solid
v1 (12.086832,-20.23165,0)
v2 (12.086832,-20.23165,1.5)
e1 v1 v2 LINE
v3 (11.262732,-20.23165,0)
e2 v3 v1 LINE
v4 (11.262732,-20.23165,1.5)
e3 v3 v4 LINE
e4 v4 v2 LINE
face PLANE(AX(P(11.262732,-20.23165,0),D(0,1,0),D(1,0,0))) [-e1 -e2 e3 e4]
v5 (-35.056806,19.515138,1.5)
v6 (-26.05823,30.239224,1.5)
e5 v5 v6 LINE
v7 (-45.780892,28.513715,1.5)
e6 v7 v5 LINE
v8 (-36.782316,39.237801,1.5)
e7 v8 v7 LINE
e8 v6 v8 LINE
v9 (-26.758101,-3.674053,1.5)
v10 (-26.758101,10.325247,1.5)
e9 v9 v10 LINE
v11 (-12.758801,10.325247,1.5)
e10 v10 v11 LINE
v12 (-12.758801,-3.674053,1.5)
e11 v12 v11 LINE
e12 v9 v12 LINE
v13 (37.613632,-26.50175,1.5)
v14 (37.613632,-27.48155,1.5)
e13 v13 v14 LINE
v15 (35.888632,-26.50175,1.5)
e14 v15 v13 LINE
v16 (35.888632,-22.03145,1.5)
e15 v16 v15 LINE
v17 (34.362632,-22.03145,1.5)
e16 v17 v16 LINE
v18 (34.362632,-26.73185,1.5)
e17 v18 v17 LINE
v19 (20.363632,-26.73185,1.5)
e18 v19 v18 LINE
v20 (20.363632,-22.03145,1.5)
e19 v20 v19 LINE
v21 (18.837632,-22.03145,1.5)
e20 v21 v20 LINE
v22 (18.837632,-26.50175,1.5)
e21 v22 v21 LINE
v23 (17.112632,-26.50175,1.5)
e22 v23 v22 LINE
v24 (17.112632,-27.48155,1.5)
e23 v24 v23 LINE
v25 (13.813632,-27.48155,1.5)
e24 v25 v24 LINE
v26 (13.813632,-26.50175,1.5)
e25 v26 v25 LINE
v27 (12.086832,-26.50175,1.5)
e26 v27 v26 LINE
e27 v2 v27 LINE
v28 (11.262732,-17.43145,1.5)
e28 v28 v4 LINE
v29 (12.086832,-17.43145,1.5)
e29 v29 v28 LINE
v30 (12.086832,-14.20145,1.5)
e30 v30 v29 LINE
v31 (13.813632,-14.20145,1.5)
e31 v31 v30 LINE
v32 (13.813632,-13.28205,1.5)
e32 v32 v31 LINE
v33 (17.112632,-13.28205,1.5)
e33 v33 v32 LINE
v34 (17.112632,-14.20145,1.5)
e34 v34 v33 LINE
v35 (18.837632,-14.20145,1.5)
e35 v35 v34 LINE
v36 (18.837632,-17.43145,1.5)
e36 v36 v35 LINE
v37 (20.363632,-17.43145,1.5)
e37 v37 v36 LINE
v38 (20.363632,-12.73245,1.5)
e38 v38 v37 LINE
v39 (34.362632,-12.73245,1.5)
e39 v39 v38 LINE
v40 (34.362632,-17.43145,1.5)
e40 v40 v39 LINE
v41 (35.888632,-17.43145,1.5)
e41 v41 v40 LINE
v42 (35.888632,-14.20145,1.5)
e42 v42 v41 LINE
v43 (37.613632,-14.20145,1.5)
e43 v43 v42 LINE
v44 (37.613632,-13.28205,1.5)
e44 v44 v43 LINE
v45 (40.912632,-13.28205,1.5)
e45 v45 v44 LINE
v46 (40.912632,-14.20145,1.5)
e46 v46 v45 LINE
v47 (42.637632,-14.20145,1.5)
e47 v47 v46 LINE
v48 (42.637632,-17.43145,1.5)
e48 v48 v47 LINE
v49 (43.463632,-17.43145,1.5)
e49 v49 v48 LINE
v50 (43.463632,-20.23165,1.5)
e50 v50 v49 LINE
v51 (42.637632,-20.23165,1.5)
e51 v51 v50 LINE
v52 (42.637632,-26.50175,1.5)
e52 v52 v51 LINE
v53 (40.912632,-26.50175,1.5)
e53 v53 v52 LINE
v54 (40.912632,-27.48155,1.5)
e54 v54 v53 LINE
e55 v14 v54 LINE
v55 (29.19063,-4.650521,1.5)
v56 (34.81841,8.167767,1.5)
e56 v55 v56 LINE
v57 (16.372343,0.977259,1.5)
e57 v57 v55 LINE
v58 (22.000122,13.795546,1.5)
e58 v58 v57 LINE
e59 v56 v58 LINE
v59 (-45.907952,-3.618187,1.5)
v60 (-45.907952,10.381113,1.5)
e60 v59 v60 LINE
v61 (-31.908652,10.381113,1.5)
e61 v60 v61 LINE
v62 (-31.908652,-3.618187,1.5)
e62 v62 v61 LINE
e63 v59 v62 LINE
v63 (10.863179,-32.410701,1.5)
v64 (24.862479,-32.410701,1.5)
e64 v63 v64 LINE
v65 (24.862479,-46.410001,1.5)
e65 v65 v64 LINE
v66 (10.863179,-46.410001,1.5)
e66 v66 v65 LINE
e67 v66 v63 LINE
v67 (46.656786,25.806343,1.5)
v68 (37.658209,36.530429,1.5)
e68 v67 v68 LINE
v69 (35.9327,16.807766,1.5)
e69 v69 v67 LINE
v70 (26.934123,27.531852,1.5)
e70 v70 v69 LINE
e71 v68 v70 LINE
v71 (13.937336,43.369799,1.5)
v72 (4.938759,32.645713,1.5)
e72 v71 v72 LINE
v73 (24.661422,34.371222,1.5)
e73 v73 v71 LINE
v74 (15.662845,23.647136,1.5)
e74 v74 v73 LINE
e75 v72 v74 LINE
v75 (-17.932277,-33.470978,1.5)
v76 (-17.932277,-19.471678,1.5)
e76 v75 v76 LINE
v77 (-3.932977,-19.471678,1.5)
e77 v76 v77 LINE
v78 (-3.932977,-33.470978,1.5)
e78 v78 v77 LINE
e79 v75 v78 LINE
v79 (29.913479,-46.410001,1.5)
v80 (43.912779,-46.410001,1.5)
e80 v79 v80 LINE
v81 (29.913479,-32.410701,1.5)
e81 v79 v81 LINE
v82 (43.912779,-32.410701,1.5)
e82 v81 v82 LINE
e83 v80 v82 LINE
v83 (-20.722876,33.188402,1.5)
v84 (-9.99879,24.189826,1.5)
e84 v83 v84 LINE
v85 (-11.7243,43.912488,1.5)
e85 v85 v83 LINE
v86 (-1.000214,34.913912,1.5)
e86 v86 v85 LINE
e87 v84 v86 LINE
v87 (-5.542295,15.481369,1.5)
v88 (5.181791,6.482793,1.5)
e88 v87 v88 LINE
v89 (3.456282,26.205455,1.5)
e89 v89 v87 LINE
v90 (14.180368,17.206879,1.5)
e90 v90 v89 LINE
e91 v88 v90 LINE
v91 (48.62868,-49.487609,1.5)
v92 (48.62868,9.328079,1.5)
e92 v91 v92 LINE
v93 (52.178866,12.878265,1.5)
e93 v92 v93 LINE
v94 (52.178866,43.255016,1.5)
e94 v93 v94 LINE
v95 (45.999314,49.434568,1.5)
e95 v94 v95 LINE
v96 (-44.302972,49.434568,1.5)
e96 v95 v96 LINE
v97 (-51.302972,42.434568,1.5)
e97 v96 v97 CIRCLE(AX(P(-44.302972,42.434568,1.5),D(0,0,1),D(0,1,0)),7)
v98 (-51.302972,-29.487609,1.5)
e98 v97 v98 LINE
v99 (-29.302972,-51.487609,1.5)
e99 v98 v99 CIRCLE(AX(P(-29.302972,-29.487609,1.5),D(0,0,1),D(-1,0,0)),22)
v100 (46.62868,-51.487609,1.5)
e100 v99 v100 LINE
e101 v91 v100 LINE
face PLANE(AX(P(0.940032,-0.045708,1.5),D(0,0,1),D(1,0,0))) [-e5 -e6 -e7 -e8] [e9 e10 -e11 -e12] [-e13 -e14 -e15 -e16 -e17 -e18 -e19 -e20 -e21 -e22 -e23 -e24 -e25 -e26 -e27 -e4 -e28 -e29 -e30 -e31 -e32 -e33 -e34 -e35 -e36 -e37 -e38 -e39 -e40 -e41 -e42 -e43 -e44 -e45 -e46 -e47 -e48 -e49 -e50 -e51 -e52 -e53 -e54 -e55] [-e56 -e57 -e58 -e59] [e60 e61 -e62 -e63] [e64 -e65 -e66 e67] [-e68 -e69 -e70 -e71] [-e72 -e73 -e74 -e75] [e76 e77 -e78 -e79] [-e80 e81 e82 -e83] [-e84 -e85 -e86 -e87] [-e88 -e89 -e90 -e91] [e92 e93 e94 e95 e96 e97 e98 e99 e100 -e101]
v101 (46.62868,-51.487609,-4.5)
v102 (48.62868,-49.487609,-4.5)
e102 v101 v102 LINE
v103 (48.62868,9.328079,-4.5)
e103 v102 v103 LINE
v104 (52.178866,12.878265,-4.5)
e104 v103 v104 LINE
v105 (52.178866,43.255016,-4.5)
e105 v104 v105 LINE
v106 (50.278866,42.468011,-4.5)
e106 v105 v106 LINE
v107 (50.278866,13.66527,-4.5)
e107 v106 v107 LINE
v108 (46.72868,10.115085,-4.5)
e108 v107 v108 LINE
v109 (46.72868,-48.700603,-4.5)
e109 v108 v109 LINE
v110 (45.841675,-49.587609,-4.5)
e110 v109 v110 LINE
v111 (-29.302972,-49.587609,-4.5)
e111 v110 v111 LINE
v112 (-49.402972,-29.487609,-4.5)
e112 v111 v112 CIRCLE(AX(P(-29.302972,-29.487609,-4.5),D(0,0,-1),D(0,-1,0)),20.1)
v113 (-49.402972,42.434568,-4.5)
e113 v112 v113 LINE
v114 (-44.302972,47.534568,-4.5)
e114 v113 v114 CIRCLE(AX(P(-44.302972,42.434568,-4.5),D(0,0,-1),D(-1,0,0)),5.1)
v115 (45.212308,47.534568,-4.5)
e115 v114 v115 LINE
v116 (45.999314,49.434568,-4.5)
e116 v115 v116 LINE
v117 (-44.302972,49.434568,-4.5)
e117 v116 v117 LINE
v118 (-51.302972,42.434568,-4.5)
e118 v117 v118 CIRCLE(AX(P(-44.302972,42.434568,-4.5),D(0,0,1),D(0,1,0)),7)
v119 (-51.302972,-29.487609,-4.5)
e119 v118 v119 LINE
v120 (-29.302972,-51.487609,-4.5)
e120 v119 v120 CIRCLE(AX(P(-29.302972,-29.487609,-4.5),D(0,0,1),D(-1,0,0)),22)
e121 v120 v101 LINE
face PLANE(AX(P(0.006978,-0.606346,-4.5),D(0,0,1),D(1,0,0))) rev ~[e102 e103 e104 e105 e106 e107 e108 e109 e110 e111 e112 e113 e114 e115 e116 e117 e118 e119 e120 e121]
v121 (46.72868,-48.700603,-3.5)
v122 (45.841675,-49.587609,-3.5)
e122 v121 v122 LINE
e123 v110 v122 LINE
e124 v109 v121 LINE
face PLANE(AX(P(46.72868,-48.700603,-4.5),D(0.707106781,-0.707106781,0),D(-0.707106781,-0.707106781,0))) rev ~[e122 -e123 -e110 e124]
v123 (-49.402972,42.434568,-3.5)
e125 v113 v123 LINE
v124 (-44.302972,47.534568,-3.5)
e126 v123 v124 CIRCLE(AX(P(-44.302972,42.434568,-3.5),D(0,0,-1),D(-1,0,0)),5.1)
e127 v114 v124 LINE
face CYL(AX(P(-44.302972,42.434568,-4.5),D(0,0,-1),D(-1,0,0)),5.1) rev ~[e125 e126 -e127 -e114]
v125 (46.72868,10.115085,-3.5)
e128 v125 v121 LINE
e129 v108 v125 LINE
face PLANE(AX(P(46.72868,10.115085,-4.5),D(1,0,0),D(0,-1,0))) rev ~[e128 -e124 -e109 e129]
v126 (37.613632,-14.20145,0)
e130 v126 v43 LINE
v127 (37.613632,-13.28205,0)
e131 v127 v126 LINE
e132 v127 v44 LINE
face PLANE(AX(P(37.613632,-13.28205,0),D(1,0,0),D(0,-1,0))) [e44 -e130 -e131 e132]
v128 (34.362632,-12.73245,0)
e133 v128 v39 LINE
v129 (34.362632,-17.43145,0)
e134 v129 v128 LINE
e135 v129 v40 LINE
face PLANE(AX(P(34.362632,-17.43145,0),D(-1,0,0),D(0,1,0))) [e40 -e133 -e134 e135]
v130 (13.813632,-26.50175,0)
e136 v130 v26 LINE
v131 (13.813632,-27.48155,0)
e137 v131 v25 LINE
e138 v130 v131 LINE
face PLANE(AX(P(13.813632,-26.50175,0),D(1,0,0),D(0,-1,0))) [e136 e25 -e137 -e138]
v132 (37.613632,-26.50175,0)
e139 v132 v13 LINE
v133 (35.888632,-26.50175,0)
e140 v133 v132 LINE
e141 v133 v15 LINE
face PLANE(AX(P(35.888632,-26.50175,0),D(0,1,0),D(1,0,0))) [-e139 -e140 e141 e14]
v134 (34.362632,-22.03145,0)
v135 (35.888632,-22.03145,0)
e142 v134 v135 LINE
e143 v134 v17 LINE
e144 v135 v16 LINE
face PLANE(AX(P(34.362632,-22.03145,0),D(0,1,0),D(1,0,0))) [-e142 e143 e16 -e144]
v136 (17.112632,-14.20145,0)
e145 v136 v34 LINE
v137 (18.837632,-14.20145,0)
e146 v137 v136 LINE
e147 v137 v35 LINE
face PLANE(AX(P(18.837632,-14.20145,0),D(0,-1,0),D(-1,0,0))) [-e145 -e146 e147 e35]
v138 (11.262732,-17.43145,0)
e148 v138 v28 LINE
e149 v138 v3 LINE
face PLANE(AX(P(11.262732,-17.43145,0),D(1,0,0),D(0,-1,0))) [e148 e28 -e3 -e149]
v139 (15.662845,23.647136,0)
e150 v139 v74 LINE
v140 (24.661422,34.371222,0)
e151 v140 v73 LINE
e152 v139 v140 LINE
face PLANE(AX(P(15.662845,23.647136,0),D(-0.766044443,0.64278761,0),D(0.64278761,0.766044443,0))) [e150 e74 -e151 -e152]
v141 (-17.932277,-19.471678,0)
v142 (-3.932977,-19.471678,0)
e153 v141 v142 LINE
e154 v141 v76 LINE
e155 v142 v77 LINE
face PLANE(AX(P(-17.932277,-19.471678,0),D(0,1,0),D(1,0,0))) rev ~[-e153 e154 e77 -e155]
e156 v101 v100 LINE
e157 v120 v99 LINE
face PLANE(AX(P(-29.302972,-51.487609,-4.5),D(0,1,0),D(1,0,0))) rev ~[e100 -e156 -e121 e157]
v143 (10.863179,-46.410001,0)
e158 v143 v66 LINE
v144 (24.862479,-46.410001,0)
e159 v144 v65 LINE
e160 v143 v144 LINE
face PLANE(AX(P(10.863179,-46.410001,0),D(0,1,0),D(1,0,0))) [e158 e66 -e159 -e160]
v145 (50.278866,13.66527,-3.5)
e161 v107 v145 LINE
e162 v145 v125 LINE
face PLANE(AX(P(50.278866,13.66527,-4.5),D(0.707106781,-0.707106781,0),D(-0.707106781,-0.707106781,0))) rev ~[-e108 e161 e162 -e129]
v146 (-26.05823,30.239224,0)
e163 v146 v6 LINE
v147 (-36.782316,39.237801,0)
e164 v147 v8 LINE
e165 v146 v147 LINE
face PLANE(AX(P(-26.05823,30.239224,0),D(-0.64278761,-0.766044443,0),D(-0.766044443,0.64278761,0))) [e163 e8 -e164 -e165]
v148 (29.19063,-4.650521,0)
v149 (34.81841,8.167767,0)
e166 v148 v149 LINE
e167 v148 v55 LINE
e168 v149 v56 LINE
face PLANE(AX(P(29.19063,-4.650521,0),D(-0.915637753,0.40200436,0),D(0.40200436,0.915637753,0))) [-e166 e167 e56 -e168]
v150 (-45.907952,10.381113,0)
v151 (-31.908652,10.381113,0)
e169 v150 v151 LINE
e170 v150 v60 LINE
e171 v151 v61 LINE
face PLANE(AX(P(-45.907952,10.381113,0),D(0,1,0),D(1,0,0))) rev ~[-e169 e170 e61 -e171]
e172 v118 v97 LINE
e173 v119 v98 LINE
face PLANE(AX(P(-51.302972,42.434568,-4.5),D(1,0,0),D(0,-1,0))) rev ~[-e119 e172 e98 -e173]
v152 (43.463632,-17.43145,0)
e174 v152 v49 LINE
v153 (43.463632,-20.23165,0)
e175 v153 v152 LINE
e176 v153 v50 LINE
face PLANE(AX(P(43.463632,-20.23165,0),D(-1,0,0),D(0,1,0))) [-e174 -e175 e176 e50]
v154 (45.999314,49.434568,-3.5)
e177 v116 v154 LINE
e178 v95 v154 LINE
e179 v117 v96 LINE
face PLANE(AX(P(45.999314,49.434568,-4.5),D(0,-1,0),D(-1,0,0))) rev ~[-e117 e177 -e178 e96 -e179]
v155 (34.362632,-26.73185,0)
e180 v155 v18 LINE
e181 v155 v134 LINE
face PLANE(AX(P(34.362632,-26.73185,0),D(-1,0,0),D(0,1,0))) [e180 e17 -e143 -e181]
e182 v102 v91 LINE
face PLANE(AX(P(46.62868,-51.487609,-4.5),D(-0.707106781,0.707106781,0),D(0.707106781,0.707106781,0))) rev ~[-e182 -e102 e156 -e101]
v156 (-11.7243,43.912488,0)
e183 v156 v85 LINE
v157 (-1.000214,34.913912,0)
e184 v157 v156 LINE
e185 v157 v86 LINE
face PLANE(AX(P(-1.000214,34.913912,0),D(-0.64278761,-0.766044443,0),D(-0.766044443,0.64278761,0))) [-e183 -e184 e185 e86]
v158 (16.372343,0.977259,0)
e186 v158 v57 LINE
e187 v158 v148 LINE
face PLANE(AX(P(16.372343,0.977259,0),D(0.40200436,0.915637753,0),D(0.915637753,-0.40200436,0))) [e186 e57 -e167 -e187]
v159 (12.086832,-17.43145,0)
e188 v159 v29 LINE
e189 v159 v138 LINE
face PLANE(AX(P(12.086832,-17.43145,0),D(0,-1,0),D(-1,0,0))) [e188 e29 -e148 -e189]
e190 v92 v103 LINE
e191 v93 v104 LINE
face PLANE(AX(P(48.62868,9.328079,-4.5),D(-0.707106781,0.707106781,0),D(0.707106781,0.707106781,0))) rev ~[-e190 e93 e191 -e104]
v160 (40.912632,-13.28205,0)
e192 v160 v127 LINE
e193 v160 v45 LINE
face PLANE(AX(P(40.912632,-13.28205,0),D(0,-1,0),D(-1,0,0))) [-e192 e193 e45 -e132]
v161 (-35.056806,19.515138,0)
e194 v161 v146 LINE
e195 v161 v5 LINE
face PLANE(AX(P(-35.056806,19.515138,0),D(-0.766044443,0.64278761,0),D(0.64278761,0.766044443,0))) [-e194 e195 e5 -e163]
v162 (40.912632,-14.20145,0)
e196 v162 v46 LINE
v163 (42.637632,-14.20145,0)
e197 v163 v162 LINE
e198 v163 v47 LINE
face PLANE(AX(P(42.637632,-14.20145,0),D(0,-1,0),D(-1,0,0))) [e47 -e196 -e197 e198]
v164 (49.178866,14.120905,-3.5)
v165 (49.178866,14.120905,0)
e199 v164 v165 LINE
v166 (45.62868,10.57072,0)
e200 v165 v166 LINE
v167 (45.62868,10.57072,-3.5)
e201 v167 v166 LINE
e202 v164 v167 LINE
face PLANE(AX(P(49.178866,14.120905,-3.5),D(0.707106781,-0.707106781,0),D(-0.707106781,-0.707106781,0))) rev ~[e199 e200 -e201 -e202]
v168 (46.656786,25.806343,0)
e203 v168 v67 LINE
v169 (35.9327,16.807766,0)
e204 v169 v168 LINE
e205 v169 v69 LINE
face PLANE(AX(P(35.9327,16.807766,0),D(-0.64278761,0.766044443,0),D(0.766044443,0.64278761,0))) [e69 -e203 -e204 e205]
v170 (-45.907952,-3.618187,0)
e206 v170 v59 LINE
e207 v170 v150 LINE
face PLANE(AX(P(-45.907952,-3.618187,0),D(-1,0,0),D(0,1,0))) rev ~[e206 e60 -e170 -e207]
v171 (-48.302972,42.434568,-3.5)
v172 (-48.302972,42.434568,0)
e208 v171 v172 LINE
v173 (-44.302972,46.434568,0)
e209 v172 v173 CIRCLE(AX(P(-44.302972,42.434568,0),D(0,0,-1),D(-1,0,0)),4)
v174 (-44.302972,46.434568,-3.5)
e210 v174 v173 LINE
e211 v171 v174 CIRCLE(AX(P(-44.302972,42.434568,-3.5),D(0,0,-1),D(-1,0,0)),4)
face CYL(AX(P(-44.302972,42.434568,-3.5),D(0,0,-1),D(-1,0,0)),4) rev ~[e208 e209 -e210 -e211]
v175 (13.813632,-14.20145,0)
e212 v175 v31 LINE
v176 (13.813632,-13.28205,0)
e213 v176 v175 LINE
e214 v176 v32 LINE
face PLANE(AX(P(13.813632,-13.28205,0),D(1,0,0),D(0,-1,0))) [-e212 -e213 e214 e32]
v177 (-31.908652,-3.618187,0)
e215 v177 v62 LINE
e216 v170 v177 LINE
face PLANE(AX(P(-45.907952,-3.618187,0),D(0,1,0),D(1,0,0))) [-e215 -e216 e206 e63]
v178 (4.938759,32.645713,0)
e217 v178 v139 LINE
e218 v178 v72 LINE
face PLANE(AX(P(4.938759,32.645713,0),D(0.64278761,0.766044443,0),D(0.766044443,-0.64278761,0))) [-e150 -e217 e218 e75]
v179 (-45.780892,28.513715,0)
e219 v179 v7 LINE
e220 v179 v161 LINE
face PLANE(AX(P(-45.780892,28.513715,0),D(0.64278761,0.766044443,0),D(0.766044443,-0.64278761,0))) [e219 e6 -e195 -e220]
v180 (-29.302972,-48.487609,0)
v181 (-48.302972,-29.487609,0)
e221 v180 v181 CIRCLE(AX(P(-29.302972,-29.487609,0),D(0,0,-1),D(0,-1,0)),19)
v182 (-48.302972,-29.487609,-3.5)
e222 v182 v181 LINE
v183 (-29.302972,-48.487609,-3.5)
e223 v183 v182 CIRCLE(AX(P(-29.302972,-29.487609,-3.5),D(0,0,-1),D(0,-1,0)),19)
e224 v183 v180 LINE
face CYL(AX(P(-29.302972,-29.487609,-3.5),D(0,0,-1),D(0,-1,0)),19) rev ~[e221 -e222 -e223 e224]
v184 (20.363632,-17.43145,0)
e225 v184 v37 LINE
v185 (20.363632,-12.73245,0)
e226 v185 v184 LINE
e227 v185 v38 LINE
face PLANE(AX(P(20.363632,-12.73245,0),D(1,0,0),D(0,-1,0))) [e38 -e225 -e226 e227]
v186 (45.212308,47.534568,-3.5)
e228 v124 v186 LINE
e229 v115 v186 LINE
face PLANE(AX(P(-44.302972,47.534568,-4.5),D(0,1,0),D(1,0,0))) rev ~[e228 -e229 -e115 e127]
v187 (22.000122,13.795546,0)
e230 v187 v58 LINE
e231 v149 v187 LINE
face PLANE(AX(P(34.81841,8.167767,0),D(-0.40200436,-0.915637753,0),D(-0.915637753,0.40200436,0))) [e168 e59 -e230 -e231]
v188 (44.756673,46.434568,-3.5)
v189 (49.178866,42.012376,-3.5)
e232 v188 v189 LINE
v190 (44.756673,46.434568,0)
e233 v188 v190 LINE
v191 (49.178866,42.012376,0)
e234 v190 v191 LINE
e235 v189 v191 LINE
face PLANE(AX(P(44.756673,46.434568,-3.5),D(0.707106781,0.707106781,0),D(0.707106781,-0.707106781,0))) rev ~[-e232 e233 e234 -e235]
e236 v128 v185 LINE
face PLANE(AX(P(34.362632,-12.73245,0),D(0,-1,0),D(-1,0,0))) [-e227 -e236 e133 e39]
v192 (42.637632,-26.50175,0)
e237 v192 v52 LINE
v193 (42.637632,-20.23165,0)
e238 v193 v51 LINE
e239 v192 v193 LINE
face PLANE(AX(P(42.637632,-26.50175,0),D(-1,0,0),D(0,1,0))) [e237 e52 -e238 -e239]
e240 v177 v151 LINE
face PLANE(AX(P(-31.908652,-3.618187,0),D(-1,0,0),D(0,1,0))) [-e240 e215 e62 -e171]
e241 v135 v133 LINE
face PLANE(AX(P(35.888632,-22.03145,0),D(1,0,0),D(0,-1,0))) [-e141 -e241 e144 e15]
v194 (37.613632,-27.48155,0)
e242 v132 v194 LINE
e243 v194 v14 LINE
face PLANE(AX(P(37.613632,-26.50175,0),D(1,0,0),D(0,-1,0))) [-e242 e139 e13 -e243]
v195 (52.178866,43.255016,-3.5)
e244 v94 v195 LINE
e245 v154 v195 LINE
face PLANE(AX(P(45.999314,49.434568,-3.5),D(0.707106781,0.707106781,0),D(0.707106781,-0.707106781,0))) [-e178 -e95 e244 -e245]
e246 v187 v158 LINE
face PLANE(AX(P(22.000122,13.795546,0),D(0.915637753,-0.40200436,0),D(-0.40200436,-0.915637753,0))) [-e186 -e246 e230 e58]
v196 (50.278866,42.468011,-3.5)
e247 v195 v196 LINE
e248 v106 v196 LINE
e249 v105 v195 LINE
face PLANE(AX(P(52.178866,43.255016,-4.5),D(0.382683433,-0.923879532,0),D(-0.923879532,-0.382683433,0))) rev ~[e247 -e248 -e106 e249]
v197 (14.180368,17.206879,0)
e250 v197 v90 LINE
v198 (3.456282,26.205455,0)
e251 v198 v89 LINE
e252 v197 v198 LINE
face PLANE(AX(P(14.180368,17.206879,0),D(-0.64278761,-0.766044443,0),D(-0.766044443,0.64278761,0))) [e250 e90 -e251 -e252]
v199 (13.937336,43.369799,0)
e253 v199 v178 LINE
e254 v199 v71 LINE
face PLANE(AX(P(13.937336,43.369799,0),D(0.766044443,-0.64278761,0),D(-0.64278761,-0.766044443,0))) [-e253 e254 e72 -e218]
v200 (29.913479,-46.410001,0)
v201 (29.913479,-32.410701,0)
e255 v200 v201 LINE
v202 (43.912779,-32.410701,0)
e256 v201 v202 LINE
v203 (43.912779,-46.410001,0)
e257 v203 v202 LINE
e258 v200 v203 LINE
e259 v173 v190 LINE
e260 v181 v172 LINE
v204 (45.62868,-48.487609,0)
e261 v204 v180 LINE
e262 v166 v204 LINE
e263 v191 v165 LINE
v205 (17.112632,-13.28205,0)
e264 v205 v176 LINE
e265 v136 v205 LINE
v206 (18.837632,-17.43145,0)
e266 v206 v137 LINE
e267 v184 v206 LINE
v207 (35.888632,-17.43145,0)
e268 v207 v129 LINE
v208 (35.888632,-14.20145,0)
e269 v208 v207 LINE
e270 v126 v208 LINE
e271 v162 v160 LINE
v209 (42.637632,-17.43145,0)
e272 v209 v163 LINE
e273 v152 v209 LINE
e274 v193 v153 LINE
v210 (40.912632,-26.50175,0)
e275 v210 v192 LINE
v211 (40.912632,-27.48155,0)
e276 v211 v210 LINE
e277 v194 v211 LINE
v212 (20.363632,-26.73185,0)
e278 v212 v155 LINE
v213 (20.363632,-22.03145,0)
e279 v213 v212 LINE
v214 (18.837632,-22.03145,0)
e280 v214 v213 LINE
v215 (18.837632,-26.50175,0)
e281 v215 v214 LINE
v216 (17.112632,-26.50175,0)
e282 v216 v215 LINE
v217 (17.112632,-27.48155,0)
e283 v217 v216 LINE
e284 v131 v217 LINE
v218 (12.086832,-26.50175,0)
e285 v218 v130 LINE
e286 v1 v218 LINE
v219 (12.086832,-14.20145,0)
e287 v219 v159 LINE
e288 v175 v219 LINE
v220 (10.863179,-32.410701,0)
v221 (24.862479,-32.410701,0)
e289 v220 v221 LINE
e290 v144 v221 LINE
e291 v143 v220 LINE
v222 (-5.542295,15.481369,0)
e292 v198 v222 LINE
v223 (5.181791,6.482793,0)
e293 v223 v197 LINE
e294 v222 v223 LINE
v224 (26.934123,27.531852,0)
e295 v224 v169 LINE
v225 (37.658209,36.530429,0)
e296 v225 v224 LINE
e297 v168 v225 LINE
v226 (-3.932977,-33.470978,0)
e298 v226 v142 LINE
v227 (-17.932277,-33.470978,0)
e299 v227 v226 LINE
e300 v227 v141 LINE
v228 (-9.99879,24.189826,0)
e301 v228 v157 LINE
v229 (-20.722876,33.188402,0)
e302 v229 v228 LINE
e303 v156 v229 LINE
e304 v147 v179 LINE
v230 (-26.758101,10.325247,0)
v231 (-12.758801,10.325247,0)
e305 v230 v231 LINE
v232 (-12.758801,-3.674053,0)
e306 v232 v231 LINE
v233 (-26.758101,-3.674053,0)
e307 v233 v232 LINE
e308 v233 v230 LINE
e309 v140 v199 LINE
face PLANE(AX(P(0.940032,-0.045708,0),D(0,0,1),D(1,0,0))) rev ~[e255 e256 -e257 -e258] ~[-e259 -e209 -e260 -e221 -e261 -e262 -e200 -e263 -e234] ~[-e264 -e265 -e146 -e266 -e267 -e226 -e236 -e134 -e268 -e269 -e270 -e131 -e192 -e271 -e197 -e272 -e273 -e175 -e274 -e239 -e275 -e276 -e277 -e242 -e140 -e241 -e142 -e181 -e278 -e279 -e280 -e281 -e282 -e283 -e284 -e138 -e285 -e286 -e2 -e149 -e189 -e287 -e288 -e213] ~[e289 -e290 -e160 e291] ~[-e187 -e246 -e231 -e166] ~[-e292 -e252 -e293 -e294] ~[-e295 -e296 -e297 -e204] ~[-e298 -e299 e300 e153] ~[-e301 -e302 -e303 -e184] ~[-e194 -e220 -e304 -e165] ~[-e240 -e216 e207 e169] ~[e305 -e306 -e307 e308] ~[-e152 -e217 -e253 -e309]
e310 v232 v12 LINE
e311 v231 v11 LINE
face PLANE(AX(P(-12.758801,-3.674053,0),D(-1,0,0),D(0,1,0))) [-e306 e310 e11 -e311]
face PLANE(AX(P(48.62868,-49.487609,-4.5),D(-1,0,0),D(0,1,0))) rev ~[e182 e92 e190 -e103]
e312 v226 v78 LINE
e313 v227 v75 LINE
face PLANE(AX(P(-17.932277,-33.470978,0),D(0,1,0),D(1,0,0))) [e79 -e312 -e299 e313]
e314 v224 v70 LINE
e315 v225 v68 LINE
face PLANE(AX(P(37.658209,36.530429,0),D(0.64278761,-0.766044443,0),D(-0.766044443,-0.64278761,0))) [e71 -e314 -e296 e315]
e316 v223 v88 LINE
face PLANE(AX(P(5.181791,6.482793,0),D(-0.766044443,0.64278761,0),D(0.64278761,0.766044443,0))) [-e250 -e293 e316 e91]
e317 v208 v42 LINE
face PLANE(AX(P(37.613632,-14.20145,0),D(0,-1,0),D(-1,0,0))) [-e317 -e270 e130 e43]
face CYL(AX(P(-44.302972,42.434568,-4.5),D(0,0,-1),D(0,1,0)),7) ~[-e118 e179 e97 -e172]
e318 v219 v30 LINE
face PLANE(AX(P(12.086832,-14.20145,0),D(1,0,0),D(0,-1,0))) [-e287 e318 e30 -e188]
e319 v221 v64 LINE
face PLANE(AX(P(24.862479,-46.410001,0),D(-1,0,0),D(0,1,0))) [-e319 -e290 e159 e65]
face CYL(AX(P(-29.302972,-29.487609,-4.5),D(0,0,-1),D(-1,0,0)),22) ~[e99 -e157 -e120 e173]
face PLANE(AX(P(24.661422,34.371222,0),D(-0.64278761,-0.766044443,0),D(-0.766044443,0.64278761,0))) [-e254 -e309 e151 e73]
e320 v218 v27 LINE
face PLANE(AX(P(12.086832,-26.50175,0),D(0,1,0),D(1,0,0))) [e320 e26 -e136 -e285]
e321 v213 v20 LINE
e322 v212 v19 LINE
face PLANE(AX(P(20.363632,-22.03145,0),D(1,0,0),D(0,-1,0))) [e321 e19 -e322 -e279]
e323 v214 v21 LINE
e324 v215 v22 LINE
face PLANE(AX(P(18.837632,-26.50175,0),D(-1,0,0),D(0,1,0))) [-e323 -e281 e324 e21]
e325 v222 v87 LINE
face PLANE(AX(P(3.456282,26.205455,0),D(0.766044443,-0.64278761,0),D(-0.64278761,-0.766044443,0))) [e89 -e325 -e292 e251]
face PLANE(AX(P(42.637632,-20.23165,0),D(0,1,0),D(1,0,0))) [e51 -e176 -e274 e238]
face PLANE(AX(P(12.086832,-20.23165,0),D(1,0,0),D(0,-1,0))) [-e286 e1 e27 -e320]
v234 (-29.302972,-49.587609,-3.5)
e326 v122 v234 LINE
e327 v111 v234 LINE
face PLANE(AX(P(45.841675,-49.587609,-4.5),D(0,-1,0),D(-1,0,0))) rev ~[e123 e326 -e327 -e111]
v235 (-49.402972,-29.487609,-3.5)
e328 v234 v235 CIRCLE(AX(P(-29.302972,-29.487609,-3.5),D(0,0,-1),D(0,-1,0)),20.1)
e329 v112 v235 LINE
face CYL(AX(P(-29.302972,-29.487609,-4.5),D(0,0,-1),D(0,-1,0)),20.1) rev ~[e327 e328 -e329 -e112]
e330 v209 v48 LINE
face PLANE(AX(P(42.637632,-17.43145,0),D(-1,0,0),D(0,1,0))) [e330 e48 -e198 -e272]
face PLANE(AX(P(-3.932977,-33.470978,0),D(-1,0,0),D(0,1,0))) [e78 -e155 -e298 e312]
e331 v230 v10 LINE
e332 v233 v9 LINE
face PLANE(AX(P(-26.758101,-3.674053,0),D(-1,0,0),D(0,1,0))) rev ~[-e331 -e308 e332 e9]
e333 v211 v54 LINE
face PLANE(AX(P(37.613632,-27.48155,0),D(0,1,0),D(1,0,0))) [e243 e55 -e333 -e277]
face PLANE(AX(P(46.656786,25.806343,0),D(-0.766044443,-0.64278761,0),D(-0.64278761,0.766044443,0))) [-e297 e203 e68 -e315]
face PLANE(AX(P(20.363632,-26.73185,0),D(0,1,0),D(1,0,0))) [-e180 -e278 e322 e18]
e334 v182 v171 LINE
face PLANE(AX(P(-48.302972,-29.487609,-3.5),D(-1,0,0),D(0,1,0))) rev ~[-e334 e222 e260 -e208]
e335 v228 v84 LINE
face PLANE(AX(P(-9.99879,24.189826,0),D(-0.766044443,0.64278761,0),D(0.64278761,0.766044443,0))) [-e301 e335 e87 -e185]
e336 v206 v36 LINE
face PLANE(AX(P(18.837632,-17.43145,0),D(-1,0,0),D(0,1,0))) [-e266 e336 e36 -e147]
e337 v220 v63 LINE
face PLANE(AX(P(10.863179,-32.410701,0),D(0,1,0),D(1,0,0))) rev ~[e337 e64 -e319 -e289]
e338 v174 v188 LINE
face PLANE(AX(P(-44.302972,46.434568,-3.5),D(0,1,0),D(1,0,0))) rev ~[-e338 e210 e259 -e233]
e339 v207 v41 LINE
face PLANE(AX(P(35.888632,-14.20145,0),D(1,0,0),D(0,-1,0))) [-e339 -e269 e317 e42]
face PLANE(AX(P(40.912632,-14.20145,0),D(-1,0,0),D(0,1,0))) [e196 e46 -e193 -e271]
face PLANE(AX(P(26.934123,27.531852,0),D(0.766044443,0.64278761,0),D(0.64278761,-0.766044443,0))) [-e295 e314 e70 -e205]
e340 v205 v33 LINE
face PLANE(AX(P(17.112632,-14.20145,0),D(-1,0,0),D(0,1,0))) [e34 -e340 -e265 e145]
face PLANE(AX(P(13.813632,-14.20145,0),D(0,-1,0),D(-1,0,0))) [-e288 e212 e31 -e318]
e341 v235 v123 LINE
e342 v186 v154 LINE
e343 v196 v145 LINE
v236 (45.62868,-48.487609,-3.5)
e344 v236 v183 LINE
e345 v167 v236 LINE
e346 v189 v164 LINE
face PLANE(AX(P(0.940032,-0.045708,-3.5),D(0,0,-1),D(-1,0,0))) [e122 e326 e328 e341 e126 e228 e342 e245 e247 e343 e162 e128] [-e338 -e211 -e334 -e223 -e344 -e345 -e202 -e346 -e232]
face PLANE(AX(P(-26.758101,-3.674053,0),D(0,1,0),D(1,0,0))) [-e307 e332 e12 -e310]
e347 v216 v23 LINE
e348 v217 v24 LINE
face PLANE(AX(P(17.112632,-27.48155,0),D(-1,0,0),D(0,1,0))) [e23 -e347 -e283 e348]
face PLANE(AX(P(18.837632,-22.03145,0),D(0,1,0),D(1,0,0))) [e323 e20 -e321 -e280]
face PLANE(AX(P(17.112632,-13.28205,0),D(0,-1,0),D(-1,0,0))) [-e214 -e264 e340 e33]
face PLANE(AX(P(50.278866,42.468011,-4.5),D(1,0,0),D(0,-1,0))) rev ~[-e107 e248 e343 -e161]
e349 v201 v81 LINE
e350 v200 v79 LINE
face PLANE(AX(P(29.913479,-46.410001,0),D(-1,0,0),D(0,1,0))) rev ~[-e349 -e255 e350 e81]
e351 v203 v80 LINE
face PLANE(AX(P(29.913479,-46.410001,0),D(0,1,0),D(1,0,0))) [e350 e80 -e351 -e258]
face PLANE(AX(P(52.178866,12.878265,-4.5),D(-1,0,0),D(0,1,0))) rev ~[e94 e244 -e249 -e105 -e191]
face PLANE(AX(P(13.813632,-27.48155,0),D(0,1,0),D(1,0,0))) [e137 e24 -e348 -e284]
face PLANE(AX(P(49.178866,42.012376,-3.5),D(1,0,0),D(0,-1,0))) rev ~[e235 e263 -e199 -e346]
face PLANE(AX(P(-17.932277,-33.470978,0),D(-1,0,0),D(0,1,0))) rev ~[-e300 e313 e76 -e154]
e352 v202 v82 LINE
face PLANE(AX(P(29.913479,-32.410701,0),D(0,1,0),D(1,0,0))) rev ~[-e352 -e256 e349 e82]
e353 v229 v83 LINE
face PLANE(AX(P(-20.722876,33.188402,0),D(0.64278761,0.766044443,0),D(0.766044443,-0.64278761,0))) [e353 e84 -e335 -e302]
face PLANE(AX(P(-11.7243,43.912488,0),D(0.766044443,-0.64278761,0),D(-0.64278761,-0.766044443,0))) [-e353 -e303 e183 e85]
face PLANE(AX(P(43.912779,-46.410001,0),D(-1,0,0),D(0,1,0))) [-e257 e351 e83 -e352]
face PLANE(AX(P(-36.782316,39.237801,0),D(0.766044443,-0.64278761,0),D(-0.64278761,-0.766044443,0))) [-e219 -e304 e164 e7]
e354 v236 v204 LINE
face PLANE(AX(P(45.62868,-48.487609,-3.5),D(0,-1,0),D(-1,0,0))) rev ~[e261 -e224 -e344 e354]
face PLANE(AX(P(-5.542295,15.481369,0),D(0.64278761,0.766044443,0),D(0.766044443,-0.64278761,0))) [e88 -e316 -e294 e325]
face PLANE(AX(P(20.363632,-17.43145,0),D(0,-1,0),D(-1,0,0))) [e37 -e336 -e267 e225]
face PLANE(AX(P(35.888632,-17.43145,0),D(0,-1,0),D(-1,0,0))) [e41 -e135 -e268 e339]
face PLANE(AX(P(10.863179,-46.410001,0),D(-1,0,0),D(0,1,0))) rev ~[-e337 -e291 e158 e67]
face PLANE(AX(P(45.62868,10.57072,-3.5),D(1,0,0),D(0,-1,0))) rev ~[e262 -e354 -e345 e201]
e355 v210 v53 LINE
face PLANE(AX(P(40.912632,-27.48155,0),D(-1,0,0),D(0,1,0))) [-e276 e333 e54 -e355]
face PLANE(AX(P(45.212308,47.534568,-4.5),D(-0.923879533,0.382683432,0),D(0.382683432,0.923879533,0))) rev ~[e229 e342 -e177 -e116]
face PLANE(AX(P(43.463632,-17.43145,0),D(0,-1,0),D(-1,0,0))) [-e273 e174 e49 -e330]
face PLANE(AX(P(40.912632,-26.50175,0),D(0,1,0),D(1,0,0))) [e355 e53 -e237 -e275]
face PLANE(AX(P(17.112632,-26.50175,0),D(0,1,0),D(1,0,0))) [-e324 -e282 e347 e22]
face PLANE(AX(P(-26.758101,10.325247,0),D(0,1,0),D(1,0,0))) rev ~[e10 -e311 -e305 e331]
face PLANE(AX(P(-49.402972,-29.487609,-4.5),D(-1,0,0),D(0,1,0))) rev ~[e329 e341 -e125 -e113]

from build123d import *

# Parameters (mm, degrees)
MODEL_W         = 13.9993
MODEL_H         = 13.9993
EXTRUDE_1_DEPTH = 1.5
EXTRUDE_START   = 3.5
EXTRUDE_2_DEPTH = 3.5
CHAMFER_1_SIZE  = 2
EXTRUDE_START_2 = 1
EXTRUDE_3_DEPTH = 1


with BuildPart() as part:
    # Model → 凸台-拉伸1 (new body)
    with BuildSketch(Plane.XY):
        with BuildLine():
            Line((45.999313773, 49.434568323), (-44.302972349, 49.434568323))
            ThreePointArc((-44.302972349, 49.434568323), (-49.252719817, 47.384315792), (-51.302972349, 42.434568323))
            Line((-51.302972349, 42.434568323), (-51.302972349, -29.48760905))
            ThreePointArc((-51.302972349, -29.48760905), (-44.859321535, -45.043958236), (-29.302972349, -51.48760905))
            Line((-29.302972349, -51.48760905), (48.628680412, -51.48760905))
            Line((48.628680412, -51.48760905), (48.628680412, 9.328079248))
            Line((48.628680412, 9.328079248), (52.178865693, 12.878264529))
            Line((52.178865693, 12.878264529), (52.178865693, 43.255016404))
            Line((52.178865693, 43.255016404), (45.999313773, 49.434568323))
        make_face()
        Polygon((37.658208977, 36.530428762), (26.934123004, 27.531852177), (35.932699588, 16.807766205), (46.656785561, 25.806342789), align=None, mode=Mode.SUBTRACT)
        Polygon((13.937335593, 43.369798663), (4.938759009, 32.64571269), (15.662844981, 23.647136106), (24.661421566, 34.371222079), align=None, mode=Mode.SUBTRACT)
        Polygon((-11.724299854, 43.912488191), (-20.722876438, 33.188402219), (-9.998790465, 24.189825635), (-1.000213881, 34.913911607), align=None, mode=Mode.SUBTRACT)
        Polygon((-36.782315633, 39.237800689), (-45.780892217, 28.513714717), (-35.056806244, 19.515138133), (-26.05822966, 30.239224105), align=None, mode=Mode.SUBTRACT)
        Polygon((34.81841009, 8.16776686), (22.000122493, 13.79554649), (16.372342863, 0.977258893), (29.19063046, -4.650520737), align=None, mode=Mode.SUBTRACT)
        Polygon((3.45628169, 26.205455431), (-5.542294894, 15.481369459), (5.181791078, 6.482792875), (14.180367663, 17.206878847), align=None, mode=Mode.SUBTRACT)
        with Locations((17.862828836, -39.410351083)):
            Rectangle(MODEL_W, MODEL_H, mode=Mode.SUBTRACT)
        with Locations((36.913128836, -39.410351083)):
            Rectangle(MODEL_W, MODEL_H, mode=Mode.SUBTRACT)
        Polygon((20.363631661, -17.43145013), (18.837631661, -17.43145013), (18.837631661, -14.20145013), (17.112631661, -14.20145013), (17.112631661, -13.28205013), (13.813631661, -13.28205013), (13.813631661, -14.20145013), (12.086831661, -14.20145013), (12.086831661, -17.43145013), (11.262731661, -17.43145013), (11.262731661, -20.23165013), (12.086831661, -20.23165013), (12.086831661, -26.50175013), (13.813631661, -26.50175013), (13.813631661, -27.48155013), (17.112631661, -27.48155013), (17.112631661, -26.50175013), (18.837631661, -26.50175013), (18.837631661, -22.03145013), (20.363631661, -22.03145013), (20.363631661, -26.73185013), (34.362631661, -26.73185013), (34.362631661, -22.03145013), (35.888631661, -22.03145013), (35.888631661, -26.50175013), (37.613631661, -26.50175013), (37.613631661, -27.48155013), (40.912631661, -27.48155013), (40.912631661, -26.50175013), (42.637631661, -26.50175013), (42.637631661, -20.23165013), (43.463631661, -20.23165013), (43.463631661, -17.43145013), (42.637631661, -17.43145013), (42.637631661, -14.20145013), (40.912631661, -14.20145013), (40.912631661, -13.28205013), (37.613631661, -13.28205013), (37.613631661, -14.20145013), (35.888631661, -14.20145013), (35.888631661, -17.43145013), (34.362631661, -17.43145013), (34.362631661, -12.73245013), (20.363631661, -12.73245013), align=None, mode=Mode.SUBTRACT)
        with Locations((-38.908302282, 3.381462696)):
            Rectangle(MODEL_W, MODEL_H, mode=Mode.SUBTRACT)
        with Locations((-19.758451091, 3.325597175)):
            Rectangle(MODEL_W, MODEL_H, mode=Mode.SUBTRACT)
        with Locations((-10.932627063, -26.471328106)):
            Rectangle(MODEL_W, MODEL_H, mode=Mode.SUBTRACT)
    extrude(amount=EXTRUDE_1_DEPTH)

    # 草图1 → 凸台-拉伸2 (add)
    with BuildSketch(Plane(origin=(0, 0, 0), x_dir=(-1, 0, 0), z_dir=(0, 0, -1)).offset(EXTRUDE_START)):
        with BuildLine():
            Line((51.302972349, -29.48760905), (51.302972349, 42.434568323))
            ThreePointArc((51.302972349, 42.434568323), (49.252719817, 47.384315792), (44.302972349, 49.434568323))
            Line((44.302972349, 49.434568323), (-45.999313773, 49.434568323))
            Line((-45.999313773, 49.434568323), (-52.178865693, 43.255016404))
            Line((-52.178865693, 43.255016404), (-52.178865693, 12.878264529))
            Line((-52.178865693, 12.878264529), (-48.628680412, 9.328079248))
            Line((-48.628680412, 9.328079248), (-48.628680412, -51.48760905))
            Line((-48.628680412, -51.48760905), (29.302972349, -51.48760905))
            ThreePointArc((29.302972349, -51.48760905), (44.859321535, -45.043958236), (51.302972349, -29.48760905))
        make_face()
        with BuildLine():
            Line((44.302972349, 46.434568323), (-44.756673086, 46.434568323))
            Line((-44.756673086, 46.434568323), (-49.178865693, 42.012375717))
            Line((-49.178865693, 42.012375717), (-49.178865693, 14.120905216))
            Line((-49.178865693, 14.120905216), (-45.628680412, 10.570719935))
            Line((-45.628680412, 10.570719935), (-45.628680412, -48.48760905))
            Line((-45.628680412, -48.48760905), (29.302972349, -48.48760905))
            ThreePointArc((29.302972349, -48.48760905), (42.738001191, -42.922637892), (48.302972349, -29.48760905))
            Line((48.302972349, -29.48760905), (48.302972349, 42.434568323))
            ThreePointArc((48.302972349, 42.434568323), (47.131399474, 45.262995448), (44.302972349, 46.434568323))
        make_face(mode=Mode.SUBTRACT)
    extrude(amount=-EXTRUDE_2_DEPTH)

    # 倒角1
    chamfer_1_edges = [part.edges().sort_by_distance(p)[0] for p in [
        (48.628680412, -51.48760905, -1),
    ]]
    chamfer(chamfer_1_edges, length=CHAMFER_1_SIZE)

    # 草图2 → 凸台-拉伸3 (add)
    with BuildSketch(Plane(origin=(0, 0, -3.5), x_dir=(-1, 0, 0), z_dir=(0, 0, -1)).offset(EXTRUDE_START_2)):
        with BuildLine():
            Line((-52.178865693, 43.255016404), (-50.278865693, 42.468010635))
            Line((-50.278865693, 42.468010635), (-50.278865693, 13.665270298))
            Line((-50.278865693, 13.665270298), (-46.728680412, 10.115085017))
            Line((-46.728680412, 10.115085017), (-46.728680412, -48.700603281))
            Line((-46.728680412, -48.700603281), (-45.841674643, -49.58760905))
            Line((-45.841674643, -49.58760905), (29.302972349, -49.58760905))
            ThreePointArc((29.302972349, -49.58760905), (43.515818651, -43.700455352), (49.402972349, -29.48760905))
            Line((49.402972349, -29.48760905), (49.402972349, 42.434568323))
            ThreePointArc((49.402972349, 42.434568323), (47.909216933, 46.040812908), (44.302972349, 47.534568323))
            Line((44.302972349, 47.534568323), (-45.212308005, 47.534568323))
            Line((-45.212308005, 47.534568323), (-45.999313773, 49.434568323))
            Line((-45.999313773, 49.434568323), (44.302972349, 49.434568323))
            ThreePointArc((44.302972349, 49.434568323), (49.252719817, 47.384315792), (51.302972349, 42.434568323))
            Line((51.302972349, 42.434568323), (51.302972349, -29.48760905))
            ThreePointArc((51.302972349, -29.48760905), (44.859321535, -45.043958236), (29.302972349, -51.48760905))
            Line((29.302972349, -51.48760905), (-46.628680412, -51.48760905))
            Line((-46.628680412, -51.48760905), (-48.628680412, -49.48760905))
            Line((-48.628680412, -49.48760905), (-48.628680412, 9.328079248))
            Line((-48.628680412, 9.328079248), (-52.178865693, 12.878264529))
            Line((-52.178865693, 12.878264529), (-52.178865693, 43.255016404))
        make_face()
    extrude(amount=-EXTRUDE_3_DEPTH)


solid = part.part
